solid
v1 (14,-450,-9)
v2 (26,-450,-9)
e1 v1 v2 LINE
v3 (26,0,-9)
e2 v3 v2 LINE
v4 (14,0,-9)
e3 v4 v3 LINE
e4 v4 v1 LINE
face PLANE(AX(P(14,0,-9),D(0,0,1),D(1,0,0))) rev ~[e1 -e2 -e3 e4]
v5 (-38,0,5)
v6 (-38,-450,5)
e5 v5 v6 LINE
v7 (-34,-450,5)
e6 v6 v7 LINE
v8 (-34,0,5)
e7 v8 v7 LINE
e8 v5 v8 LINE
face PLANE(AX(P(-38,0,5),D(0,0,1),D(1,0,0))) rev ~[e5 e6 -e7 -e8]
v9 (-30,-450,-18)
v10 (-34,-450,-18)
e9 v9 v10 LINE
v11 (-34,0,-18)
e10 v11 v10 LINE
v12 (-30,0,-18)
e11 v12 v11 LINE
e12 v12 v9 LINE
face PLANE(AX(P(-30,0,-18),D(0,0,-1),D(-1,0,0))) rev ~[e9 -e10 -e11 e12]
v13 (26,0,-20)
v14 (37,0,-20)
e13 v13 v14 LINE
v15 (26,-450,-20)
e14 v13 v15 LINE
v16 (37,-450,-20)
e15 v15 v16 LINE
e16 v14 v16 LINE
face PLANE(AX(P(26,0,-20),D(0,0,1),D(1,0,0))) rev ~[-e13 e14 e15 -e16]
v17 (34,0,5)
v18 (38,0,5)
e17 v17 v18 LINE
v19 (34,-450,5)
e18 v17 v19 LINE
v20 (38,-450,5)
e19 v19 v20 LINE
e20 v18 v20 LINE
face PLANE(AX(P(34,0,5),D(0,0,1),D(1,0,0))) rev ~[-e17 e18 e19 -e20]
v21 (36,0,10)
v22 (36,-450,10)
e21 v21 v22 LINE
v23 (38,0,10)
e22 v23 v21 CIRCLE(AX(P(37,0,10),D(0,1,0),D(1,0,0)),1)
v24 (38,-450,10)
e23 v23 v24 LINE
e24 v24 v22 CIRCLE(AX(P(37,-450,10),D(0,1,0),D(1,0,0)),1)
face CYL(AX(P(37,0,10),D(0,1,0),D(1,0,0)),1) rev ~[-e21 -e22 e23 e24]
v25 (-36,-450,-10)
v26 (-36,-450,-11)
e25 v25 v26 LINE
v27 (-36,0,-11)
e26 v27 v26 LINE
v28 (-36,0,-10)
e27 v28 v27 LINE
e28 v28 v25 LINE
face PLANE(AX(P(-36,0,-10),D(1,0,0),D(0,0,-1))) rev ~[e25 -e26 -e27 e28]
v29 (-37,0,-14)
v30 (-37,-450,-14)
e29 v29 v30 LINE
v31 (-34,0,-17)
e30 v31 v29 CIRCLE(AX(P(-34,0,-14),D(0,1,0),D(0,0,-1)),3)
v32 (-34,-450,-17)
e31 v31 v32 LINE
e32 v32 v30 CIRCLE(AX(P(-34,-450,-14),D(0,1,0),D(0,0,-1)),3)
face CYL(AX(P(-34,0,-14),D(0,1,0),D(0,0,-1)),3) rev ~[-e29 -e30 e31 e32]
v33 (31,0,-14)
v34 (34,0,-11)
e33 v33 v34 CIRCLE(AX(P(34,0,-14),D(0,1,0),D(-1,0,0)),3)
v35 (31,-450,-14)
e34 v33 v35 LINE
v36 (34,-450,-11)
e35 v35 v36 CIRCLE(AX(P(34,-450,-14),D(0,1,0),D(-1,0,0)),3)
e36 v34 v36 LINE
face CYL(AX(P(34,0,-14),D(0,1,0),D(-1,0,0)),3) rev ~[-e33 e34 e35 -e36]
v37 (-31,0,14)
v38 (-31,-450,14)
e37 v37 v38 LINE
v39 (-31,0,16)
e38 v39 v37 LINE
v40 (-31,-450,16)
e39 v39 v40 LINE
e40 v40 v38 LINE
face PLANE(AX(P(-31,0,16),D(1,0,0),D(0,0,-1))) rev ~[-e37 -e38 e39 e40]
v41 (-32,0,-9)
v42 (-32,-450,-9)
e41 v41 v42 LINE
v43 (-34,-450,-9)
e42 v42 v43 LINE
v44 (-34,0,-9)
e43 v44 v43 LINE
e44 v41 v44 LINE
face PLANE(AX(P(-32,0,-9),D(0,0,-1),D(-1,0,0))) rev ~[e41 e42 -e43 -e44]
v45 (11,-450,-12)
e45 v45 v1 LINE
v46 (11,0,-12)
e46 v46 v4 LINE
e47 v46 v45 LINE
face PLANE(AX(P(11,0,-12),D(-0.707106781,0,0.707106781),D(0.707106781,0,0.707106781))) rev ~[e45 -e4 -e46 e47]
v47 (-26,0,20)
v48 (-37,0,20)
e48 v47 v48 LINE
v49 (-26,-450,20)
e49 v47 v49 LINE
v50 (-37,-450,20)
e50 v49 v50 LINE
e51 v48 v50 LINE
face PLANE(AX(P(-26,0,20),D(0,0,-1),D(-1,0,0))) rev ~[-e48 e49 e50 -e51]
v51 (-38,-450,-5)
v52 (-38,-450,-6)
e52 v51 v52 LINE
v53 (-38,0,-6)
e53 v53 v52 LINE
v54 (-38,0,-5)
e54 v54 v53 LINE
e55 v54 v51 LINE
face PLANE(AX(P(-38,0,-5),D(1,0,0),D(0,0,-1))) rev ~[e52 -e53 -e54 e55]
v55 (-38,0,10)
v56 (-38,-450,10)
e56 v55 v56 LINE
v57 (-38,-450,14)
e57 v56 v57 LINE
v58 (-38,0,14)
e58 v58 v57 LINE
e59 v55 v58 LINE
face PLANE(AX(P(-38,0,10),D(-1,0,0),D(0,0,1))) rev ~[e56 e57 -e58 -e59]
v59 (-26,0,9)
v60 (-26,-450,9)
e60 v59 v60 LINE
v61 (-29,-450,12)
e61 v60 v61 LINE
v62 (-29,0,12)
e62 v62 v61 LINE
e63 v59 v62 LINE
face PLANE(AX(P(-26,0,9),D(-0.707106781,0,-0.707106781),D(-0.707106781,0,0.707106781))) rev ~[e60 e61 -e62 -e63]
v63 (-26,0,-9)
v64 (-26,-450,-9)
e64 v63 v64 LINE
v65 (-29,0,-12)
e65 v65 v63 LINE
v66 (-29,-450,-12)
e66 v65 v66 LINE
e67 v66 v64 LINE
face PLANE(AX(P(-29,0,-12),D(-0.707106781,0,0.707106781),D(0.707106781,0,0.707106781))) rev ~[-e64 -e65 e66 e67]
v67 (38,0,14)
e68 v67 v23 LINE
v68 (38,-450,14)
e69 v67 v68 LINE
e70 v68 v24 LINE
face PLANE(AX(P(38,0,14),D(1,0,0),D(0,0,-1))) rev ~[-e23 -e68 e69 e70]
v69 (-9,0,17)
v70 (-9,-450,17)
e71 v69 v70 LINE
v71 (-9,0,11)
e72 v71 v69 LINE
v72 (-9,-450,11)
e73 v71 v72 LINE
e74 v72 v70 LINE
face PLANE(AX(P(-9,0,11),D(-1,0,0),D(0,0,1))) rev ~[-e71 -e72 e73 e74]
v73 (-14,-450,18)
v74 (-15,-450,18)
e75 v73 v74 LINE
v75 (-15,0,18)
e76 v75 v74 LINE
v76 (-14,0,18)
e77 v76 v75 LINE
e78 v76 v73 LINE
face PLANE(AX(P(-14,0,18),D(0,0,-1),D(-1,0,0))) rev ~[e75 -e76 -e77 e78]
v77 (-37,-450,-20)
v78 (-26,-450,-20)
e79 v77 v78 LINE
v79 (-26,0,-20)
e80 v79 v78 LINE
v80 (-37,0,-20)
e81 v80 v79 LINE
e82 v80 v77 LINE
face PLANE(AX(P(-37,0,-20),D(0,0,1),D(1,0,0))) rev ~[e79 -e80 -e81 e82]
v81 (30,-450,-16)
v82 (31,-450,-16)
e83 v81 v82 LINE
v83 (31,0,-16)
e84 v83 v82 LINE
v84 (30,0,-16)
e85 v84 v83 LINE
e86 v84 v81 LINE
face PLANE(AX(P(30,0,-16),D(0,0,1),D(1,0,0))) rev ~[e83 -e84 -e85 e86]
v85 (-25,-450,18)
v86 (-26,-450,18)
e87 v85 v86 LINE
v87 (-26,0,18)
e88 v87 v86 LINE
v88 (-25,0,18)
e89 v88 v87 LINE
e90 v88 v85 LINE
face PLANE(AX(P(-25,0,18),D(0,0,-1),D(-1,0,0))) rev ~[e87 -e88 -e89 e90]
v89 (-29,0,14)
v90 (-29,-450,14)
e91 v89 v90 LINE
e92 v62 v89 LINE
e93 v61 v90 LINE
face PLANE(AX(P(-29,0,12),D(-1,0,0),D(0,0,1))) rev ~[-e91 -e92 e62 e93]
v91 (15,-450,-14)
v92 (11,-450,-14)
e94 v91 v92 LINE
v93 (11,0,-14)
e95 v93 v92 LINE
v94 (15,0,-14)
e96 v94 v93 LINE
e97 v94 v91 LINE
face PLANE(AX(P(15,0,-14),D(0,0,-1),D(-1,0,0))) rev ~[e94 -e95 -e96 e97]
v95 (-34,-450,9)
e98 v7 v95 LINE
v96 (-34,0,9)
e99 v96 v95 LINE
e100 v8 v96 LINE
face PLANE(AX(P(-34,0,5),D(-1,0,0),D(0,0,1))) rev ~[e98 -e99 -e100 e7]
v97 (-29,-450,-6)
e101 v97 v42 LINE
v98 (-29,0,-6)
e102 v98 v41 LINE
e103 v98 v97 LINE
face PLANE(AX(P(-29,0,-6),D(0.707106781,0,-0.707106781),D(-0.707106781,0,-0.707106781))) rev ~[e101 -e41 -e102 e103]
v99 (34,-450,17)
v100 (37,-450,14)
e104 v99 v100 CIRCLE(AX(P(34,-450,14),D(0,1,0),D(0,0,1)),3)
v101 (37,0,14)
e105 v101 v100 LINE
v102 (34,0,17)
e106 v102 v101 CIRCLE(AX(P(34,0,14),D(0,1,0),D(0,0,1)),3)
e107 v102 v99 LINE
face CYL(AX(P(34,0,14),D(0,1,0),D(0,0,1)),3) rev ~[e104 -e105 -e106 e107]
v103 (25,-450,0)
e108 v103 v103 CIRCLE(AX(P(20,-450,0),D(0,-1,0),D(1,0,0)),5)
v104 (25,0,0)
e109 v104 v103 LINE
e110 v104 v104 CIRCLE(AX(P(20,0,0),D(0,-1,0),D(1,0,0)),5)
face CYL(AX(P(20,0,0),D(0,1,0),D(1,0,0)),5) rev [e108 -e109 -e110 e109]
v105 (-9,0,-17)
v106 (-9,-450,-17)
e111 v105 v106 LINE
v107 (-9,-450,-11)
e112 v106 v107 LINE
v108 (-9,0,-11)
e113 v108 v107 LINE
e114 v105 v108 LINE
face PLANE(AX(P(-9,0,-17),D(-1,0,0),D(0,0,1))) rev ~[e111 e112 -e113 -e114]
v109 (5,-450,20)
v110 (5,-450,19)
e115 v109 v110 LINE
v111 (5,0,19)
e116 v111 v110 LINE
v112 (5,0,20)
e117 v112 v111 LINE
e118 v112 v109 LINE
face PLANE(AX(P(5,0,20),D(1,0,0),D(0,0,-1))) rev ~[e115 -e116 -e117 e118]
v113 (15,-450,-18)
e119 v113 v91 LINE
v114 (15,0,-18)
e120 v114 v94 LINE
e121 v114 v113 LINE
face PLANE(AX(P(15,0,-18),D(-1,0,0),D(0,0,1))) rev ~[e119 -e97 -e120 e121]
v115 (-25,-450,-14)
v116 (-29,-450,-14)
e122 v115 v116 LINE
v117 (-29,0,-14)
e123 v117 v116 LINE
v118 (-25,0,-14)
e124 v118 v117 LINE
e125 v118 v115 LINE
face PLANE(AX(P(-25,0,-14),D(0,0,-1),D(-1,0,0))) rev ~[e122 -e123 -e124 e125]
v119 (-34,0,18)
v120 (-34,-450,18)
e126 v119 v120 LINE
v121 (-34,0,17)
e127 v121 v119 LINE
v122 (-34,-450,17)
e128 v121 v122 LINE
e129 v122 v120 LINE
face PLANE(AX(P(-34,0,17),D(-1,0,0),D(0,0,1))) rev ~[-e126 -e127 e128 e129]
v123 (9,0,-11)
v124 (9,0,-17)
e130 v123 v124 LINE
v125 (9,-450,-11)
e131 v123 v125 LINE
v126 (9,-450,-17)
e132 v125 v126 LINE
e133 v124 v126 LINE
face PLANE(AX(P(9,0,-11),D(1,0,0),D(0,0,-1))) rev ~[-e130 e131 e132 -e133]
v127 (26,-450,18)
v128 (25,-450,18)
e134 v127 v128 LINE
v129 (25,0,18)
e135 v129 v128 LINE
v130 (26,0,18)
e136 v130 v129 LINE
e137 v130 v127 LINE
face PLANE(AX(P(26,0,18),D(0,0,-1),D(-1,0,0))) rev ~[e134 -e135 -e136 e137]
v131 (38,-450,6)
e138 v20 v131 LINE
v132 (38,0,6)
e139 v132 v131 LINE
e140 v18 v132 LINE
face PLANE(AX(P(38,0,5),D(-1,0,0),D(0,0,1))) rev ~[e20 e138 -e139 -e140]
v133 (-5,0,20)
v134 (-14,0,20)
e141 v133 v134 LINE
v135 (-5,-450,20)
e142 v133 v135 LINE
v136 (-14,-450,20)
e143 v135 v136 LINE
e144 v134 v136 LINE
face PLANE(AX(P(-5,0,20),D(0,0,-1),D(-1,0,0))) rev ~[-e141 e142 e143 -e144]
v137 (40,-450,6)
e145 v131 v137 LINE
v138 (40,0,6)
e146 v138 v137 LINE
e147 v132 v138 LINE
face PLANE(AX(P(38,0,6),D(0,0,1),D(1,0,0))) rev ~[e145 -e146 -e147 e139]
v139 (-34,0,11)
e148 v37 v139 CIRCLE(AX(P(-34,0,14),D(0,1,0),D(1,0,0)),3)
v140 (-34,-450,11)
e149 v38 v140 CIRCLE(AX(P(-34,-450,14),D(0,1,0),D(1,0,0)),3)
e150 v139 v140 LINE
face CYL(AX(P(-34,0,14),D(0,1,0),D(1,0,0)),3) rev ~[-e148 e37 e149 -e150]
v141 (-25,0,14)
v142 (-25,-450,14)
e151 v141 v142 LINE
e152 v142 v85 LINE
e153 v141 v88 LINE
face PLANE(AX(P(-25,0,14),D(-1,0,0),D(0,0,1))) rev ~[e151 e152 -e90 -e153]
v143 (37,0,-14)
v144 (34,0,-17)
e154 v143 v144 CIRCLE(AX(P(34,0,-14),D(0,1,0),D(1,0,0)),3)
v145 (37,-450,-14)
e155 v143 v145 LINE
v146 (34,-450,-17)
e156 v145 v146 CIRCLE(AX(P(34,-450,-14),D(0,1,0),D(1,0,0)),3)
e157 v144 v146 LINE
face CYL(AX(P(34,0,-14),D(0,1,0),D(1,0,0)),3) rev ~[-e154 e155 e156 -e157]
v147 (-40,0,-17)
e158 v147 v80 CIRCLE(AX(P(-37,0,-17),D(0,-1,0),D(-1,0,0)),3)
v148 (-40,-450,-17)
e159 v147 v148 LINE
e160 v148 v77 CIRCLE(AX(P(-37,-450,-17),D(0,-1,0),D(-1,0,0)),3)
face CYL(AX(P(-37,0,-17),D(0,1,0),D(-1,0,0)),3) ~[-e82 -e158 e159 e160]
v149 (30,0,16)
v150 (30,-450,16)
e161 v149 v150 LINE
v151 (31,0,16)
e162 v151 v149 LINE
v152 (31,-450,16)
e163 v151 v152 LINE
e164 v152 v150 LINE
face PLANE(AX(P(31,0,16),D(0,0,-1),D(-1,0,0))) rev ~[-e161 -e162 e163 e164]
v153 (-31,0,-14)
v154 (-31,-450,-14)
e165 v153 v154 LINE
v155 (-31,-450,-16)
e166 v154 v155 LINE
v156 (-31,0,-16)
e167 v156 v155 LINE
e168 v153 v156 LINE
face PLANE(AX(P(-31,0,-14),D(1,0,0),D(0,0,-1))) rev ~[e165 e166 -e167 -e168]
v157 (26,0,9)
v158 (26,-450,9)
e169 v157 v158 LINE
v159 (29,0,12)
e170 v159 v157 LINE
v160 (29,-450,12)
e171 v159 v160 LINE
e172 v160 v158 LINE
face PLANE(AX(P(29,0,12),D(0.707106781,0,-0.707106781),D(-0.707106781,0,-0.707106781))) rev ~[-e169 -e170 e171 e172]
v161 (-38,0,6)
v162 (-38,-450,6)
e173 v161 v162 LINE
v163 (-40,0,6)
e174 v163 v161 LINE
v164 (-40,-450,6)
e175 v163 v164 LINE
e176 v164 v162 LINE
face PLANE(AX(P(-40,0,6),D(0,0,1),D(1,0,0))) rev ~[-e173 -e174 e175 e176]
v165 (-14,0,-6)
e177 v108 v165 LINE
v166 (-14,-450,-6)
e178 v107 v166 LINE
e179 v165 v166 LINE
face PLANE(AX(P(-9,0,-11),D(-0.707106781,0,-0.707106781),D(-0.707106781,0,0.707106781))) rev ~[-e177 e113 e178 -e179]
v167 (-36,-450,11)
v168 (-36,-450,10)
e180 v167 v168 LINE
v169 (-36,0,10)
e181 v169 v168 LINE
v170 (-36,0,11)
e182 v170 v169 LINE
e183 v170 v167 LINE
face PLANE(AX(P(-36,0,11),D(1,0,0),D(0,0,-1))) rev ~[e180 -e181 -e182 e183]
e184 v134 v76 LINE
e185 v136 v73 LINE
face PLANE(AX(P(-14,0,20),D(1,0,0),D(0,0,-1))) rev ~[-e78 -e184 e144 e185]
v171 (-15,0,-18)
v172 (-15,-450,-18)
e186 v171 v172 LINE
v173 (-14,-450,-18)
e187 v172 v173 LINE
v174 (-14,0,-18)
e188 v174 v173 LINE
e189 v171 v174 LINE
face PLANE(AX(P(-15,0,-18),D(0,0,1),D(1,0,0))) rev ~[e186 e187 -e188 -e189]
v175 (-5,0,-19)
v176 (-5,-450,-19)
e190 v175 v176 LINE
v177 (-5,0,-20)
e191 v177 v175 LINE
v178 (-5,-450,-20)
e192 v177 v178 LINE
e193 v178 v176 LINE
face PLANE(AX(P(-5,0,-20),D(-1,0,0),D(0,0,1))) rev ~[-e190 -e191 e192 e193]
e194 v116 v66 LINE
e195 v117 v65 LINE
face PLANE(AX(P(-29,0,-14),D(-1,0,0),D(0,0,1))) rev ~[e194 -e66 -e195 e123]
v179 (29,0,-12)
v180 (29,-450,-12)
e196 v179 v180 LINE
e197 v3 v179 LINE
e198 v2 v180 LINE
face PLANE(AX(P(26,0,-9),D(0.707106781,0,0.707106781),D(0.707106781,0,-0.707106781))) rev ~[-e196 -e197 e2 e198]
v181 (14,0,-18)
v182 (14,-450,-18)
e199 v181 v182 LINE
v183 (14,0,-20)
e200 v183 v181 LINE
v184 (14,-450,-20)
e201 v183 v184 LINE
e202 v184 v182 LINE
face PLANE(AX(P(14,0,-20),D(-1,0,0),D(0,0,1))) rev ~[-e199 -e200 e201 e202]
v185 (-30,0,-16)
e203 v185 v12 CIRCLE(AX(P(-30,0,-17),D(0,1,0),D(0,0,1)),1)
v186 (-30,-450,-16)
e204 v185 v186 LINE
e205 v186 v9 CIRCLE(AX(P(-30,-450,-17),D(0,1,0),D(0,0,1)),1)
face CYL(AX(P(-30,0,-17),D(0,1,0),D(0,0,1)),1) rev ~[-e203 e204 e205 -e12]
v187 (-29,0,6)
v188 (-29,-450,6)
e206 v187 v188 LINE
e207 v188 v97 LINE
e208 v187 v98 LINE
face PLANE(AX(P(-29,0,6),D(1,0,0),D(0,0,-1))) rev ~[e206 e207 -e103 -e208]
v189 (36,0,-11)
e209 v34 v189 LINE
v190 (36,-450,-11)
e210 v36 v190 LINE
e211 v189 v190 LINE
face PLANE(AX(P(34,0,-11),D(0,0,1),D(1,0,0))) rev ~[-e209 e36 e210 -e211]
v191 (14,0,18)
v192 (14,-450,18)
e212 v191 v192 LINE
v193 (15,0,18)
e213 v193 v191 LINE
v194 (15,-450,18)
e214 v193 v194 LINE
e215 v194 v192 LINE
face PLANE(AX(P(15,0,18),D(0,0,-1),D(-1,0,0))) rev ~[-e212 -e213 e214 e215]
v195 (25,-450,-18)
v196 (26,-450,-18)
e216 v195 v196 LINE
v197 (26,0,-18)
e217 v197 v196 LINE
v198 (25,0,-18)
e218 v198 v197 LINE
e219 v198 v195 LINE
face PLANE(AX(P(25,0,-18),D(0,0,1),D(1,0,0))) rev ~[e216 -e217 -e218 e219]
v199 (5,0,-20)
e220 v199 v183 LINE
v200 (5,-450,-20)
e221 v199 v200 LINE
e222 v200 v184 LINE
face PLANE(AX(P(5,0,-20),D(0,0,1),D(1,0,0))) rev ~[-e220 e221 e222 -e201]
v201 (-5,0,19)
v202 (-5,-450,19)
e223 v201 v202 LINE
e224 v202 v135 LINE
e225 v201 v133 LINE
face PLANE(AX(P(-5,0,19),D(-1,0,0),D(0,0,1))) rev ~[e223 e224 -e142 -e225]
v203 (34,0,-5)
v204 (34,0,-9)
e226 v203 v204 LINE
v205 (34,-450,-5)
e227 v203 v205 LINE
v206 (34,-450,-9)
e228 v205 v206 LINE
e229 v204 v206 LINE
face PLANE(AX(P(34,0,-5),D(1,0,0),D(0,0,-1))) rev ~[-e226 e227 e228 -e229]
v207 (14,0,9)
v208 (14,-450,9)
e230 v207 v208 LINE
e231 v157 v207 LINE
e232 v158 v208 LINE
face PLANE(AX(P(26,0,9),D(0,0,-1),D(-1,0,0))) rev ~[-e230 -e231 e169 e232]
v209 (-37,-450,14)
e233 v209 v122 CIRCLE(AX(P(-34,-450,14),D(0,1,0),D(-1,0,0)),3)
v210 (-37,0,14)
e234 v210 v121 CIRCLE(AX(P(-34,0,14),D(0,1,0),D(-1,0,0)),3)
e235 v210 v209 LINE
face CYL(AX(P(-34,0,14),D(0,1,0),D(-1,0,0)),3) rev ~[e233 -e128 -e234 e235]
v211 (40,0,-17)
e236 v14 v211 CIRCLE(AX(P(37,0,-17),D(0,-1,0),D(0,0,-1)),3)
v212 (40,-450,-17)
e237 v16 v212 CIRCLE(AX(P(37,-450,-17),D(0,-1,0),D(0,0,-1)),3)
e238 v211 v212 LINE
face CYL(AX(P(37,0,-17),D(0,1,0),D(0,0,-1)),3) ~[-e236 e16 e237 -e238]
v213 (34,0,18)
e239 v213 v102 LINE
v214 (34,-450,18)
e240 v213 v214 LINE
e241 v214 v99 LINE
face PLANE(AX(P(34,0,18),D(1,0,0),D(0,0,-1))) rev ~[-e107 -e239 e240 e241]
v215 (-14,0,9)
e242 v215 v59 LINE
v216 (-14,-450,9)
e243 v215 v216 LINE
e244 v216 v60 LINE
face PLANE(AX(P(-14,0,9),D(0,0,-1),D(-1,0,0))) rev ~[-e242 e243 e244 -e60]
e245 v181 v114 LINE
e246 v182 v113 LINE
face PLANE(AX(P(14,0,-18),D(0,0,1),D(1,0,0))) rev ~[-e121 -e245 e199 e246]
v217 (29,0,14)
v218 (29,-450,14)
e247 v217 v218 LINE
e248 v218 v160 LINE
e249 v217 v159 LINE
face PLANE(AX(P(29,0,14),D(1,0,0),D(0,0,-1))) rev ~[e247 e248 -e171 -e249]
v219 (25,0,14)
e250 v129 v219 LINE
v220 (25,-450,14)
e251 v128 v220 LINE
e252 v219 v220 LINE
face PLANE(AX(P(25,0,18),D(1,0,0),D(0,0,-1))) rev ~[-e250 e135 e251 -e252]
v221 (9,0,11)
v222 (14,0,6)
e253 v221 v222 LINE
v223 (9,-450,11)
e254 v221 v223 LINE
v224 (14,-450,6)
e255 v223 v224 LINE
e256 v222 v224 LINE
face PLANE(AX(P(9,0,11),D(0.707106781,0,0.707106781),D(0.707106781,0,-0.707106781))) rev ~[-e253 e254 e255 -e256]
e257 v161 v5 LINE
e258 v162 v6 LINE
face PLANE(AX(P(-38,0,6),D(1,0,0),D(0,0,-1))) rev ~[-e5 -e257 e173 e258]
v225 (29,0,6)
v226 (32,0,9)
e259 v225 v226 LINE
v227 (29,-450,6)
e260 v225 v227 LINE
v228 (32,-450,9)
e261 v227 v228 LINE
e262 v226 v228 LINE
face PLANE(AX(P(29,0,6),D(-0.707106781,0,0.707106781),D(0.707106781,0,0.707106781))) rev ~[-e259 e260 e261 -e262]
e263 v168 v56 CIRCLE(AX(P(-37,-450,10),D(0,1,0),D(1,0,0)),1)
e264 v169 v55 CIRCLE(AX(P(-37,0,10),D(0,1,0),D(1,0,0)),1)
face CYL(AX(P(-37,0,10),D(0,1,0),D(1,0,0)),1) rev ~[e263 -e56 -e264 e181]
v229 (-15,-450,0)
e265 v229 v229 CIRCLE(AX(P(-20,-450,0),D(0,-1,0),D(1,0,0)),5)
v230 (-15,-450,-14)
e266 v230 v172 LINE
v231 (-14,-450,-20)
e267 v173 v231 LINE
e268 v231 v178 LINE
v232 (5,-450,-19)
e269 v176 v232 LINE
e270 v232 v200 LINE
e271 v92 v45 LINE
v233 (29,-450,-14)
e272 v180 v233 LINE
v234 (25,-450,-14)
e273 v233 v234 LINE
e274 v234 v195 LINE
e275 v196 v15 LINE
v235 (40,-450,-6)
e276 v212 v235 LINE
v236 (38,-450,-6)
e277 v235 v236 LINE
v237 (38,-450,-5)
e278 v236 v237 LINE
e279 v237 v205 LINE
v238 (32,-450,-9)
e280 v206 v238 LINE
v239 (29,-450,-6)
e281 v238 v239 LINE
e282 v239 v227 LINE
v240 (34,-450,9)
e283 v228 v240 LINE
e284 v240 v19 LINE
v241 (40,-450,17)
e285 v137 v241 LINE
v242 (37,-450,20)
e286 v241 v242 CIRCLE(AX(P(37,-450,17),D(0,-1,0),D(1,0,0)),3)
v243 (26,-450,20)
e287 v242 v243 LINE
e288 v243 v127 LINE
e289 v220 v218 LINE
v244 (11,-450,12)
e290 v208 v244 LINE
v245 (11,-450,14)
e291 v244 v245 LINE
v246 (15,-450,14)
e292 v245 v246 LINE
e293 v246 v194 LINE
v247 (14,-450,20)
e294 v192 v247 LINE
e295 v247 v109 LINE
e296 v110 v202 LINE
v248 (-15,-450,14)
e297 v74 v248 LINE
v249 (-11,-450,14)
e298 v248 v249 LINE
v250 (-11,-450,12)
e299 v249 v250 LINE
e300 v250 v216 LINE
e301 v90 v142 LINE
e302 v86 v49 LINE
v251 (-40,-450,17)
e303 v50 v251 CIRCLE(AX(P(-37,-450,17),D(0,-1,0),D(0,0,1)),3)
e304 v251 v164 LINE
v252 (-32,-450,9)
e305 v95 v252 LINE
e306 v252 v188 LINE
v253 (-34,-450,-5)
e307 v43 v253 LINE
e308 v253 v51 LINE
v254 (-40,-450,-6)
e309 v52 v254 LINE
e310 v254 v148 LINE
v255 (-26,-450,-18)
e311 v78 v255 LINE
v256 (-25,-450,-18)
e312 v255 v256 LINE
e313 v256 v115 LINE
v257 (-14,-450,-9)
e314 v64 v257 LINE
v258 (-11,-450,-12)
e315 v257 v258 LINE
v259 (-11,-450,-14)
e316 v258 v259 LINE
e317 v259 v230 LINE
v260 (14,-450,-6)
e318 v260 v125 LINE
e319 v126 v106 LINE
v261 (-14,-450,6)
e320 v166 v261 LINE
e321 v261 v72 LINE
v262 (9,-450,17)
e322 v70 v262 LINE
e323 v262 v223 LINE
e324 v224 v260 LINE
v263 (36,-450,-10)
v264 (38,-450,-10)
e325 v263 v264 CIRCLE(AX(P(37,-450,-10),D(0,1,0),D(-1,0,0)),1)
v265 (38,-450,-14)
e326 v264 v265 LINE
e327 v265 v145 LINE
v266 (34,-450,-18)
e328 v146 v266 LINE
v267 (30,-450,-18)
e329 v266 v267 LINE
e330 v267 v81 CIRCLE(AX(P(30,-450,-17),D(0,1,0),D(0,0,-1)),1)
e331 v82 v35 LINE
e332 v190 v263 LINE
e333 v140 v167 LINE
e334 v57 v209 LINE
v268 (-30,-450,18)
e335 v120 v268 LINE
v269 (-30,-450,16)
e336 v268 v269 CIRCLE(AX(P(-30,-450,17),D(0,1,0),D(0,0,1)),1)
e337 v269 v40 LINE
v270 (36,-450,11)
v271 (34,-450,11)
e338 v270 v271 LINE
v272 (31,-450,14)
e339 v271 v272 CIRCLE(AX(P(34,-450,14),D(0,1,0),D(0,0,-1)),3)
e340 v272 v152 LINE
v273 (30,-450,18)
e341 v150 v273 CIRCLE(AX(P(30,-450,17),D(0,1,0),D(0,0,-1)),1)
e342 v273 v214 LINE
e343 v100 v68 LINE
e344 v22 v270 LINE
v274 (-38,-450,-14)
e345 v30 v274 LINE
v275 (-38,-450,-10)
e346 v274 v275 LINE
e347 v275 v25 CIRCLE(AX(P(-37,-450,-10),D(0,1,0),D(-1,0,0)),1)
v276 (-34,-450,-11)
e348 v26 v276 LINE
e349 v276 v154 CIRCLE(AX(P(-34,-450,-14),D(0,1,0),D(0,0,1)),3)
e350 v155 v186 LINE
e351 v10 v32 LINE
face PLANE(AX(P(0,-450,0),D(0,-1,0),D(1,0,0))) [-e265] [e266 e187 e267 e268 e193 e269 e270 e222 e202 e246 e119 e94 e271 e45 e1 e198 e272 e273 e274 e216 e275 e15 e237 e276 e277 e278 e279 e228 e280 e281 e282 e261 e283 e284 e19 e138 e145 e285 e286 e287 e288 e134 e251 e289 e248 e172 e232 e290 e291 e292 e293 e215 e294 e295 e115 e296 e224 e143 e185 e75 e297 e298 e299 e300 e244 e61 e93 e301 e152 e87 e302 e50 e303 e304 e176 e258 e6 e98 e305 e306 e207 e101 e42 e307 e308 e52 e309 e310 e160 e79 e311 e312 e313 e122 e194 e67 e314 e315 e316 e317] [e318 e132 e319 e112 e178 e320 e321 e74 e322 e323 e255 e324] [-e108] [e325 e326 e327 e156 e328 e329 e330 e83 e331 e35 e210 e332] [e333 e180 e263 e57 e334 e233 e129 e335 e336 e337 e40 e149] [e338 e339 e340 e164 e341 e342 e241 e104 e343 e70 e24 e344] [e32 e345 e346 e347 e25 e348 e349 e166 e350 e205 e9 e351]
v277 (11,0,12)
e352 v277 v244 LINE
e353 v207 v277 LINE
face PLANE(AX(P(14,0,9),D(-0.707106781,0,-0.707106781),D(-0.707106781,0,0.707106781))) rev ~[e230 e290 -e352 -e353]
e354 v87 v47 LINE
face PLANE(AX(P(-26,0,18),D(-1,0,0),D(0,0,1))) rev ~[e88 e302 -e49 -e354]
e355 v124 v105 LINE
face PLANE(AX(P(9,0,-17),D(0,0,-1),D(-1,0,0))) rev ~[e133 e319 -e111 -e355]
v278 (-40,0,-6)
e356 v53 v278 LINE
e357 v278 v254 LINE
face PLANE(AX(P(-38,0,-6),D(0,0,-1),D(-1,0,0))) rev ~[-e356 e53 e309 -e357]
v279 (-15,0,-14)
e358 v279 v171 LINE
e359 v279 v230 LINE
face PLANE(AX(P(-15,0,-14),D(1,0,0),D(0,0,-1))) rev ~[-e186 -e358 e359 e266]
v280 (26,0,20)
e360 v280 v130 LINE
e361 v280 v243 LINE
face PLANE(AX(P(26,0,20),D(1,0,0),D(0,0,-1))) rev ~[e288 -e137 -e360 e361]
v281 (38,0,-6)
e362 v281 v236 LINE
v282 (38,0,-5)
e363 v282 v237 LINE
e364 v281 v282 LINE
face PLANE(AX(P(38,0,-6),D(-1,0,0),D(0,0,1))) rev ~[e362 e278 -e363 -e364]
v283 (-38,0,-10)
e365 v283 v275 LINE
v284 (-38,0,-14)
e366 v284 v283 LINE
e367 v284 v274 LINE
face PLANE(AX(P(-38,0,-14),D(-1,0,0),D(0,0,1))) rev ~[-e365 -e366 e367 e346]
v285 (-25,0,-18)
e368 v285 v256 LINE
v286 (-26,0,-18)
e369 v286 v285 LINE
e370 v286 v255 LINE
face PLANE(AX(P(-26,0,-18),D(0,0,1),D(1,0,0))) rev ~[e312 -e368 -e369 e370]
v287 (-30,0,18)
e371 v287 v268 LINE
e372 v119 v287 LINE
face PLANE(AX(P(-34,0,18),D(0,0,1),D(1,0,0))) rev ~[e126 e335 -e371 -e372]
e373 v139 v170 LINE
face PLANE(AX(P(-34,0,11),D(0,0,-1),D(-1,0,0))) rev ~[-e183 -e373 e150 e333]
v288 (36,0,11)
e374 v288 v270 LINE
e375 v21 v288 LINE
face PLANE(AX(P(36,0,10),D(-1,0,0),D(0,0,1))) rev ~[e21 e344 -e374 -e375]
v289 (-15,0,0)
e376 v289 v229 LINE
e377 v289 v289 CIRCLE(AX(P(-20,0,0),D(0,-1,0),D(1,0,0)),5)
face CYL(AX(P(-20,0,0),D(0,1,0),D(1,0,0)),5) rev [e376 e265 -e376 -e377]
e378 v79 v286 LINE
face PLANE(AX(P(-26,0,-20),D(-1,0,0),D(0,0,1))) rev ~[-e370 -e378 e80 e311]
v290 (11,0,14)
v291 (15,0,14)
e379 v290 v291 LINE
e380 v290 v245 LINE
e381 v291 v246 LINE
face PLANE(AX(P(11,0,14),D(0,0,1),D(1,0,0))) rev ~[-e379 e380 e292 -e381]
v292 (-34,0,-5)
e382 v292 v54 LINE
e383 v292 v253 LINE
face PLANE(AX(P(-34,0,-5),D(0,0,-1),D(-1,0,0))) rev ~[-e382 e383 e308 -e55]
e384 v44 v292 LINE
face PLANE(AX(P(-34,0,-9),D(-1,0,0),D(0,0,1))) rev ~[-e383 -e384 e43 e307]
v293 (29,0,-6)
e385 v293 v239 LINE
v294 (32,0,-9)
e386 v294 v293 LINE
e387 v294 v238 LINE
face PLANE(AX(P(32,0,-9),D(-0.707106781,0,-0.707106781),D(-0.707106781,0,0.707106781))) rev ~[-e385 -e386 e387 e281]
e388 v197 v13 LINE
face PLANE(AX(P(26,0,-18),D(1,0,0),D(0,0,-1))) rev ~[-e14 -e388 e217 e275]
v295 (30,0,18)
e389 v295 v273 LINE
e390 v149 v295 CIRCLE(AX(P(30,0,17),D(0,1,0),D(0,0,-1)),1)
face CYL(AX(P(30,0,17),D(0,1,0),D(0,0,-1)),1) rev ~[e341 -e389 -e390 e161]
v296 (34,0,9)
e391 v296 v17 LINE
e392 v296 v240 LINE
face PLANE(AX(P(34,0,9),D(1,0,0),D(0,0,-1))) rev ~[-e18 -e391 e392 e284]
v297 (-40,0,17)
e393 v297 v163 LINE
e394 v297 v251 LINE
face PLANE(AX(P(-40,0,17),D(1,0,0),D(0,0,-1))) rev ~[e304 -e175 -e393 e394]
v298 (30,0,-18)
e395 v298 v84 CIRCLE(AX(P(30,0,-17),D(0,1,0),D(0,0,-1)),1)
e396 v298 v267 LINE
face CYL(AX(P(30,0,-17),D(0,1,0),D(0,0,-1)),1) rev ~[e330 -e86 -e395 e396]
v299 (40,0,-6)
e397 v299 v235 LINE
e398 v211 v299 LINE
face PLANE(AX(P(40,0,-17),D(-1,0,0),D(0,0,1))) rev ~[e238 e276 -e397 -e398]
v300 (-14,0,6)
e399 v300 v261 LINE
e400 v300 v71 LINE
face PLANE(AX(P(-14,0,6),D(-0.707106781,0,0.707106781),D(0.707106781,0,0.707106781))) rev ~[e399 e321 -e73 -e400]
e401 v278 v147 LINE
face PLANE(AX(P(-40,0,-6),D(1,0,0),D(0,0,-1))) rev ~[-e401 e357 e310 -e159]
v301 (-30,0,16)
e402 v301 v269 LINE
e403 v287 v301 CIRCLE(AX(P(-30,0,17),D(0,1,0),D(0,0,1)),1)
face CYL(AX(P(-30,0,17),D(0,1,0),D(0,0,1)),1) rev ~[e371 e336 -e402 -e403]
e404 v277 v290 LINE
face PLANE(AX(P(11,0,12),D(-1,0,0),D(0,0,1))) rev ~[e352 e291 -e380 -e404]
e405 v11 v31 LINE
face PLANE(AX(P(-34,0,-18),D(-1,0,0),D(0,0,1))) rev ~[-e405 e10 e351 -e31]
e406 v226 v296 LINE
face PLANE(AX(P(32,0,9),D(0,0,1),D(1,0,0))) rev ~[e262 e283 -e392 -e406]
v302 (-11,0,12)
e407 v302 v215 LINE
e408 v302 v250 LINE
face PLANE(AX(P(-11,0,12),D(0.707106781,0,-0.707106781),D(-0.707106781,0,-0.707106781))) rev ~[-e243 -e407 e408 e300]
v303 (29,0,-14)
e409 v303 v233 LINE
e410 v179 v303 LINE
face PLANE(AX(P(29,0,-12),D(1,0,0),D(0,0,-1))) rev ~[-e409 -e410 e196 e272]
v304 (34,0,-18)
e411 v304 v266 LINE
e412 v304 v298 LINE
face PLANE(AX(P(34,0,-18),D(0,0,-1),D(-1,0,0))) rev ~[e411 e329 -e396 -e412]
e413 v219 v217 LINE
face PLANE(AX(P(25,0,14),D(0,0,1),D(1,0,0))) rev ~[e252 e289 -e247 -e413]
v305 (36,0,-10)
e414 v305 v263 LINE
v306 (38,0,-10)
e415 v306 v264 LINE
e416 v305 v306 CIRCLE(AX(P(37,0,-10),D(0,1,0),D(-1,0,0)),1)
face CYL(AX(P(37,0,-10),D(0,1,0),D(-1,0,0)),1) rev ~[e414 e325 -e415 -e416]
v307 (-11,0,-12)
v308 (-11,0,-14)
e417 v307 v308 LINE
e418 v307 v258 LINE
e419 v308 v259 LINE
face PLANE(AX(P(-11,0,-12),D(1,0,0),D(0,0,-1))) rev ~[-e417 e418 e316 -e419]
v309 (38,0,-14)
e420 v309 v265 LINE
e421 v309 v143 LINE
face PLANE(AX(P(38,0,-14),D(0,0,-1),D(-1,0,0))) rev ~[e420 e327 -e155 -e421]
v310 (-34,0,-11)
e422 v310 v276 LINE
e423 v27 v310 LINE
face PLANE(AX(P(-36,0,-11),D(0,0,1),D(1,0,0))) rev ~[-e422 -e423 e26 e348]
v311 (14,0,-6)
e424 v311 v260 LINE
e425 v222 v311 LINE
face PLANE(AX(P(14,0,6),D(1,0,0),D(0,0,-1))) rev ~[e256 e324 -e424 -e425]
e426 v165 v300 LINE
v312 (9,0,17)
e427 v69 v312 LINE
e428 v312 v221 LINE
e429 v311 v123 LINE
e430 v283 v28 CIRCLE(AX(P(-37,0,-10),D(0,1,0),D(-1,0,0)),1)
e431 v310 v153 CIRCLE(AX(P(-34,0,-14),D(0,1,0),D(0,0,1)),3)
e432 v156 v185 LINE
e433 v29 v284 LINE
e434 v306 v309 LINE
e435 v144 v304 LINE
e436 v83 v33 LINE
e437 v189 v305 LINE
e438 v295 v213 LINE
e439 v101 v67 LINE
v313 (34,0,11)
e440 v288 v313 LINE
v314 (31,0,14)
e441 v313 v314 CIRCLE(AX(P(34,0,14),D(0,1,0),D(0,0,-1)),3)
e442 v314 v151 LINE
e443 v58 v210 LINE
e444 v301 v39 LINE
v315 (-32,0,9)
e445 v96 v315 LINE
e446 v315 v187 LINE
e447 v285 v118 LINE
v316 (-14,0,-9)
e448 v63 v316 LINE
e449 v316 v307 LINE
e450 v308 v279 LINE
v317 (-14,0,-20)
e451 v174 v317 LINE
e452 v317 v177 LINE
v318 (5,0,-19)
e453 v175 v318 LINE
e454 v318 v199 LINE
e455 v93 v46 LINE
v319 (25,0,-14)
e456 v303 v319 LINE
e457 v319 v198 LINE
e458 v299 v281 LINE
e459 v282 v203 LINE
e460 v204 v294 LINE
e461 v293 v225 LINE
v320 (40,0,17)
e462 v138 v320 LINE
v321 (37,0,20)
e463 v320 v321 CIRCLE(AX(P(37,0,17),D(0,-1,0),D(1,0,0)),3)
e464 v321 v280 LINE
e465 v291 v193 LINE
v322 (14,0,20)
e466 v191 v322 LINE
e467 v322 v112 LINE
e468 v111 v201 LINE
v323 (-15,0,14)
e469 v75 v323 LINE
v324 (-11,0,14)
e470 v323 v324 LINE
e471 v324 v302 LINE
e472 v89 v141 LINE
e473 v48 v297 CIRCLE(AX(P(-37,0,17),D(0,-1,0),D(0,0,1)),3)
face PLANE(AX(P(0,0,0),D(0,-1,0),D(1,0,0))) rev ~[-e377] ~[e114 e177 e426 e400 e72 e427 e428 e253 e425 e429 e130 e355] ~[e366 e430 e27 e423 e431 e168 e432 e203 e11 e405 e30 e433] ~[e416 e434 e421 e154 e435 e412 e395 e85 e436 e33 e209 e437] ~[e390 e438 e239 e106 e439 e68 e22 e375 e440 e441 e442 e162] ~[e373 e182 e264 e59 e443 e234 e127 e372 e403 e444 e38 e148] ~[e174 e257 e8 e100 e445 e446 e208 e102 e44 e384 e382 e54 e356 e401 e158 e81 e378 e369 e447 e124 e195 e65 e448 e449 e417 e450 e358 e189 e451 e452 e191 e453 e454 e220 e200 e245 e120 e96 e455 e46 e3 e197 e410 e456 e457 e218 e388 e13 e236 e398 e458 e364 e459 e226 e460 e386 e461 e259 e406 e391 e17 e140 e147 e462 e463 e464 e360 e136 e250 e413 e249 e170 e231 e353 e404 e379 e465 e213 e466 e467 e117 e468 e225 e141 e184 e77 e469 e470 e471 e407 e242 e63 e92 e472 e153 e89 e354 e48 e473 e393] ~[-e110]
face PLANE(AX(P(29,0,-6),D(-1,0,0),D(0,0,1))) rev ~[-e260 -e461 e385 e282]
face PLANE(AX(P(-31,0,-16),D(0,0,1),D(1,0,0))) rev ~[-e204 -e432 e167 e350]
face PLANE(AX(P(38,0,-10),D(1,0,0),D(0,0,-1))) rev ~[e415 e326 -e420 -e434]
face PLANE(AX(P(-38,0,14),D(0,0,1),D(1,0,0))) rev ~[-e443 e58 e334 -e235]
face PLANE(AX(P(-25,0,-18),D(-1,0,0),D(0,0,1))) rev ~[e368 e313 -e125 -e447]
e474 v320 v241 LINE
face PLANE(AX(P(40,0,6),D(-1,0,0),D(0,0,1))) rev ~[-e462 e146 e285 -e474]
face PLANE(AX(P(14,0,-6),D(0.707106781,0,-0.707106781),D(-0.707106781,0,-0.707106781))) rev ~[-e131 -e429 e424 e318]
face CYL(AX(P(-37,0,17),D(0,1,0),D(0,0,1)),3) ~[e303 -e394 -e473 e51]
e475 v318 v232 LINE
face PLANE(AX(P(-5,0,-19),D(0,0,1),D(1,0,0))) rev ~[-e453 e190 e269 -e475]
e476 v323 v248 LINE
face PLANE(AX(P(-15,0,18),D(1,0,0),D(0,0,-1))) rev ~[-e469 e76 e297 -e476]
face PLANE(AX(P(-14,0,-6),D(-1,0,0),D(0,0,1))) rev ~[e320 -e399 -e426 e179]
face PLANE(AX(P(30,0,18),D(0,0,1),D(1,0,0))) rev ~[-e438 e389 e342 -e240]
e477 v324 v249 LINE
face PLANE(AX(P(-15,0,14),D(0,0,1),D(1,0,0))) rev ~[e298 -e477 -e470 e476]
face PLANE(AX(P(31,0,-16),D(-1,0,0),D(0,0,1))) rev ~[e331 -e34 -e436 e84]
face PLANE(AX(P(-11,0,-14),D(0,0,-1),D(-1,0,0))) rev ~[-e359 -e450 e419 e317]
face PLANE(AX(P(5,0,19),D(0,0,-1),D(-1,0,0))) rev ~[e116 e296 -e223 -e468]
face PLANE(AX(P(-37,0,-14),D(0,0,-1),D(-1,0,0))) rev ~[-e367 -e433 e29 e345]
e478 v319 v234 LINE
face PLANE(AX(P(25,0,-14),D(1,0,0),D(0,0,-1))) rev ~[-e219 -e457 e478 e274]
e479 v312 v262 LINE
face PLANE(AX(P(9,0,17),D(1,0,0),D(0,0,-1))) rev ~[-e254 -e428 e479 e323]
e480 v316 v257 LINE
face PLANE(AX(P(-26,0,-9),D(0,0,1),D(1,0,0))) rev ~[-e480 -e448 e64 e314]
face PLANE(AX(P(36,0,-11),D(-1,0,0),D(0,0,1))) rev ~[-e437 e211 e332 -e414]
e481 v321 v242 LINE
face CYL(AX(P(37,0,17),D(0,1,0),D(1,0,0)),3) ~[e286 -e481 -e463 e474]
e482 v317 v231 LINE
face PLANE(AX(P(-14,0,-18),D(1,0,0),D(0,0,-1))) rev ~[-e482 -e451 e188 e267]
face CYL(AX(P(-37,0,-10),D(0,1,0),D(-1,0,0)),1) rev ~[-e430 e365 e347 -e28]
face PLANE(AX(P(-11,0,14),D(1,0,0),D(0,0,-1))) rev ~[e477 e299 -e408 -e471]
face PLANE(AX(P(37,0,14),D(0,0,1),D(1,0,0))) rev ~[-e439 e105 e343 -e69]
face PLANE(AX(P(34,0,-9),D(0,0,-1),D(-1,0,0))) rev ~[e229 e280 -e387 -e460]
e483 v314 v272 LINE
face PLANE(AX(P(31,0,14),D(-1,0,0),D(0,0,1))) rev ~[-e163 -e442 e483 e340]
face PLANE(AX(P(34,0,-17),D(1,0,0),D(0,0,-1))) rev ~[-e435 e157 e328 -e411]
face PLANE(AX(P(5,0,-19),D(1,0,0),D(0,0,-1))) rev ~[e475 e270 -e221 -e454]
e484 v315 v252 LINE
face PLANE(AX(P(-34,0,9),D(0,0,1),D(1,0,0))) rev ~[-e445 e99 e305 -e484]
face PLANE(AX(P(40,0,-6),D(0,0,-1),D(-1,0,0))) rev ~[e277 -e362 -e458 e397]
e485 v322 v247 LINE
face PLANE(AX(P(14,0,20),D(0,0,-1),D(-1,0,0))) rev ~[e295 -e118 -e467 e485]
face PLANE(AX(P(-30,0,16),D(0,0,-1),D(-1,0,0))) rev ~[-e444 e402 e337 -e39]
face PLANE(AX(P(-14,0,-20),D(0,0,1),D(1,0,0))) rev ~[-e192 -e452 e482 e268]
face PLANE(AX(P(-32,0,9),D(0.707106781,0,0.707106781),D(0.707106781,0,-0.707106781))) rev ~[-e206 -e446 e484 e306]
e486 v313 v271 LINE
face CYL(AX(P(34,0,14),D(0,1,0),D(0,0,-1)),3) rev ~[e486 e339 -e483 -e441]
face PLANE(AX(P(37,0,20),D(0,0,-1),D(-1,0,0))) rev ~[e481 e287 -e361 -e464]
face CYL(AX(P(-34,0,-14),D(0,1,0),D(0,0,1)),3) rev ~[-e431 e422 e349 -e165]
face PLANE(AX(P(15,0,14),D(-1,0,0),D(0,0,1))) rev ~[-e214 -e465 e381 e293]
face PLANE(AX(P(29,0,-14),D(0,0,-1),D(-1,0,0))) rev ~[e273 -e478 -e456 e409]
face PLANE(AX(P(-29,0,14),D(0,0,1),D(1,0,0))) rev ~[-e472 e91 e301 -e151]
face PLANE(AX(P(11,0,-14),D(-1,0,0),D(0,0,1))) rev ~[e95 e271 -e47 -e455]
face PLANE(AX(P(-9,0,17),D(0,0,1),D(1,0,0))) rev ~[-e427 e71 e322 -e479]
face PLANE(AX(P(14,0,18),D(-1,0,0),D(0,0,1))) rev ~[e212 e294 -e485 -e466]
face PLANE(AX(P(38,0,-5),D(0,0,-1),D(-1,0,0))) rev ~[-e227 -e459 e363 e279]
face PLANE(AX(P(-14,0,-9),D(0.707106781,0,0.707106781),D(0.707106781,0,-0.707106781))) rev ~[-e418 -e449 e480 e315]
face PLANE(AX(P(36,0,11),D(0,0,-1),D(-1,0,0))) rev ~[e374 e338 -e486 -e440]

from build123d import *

# Parameters (mm, degrees)
F1_R     = 5
F2_DEPTH = 450


with BuildPart() as f2:
    # F1 (on Front) → F2 (new body)
    with BuildSketch(Plane.XZ):
        with BuildLine():
            Line((-38, 6), (-38, 5))
            Line((-38, 5), (-34, 5))
            Line((-34, 5), (-34, 9))
            Line((-34, 9), (-32, 9))
            Line((-32, 9), (-29, 6))
            Line((-29, 6), (-29, -6))
            Line((-29, -6), (-32, -9))
            Line((-32, -9), (-34, -9))
            Line((-34, -9), (-34, -5))
            Line((-34, -5), (-38, -5))
            Line((-38, -5), (-38, -6))
            Line((-38, -6), (-40, -6))
            Line((-40, -6), (-40, -17))
            ThreePointArc((-40, -17), (-39.1213203436, -19.1213203436), (-37, -20))
            Line((-37, -20), (-26, -20))
            Line((-26, -20), (-26, -18))
            Line((-26, -18), (-25, -18))
            Line((-25, -18), (-25, -14))
            Line((-25, -14), (-29, -14))
            Line((-29, -14), (-29, -12))
            Line((-29, -12), (-26, -9))
            Line((-26, -9), (-14, -9))
            Line((-14, -9), (-11, -12))
            Line((-11, -12), (-11, -14))
            Line((-11, -14), (-15, -14))
            Line((-15, -14), (-15, -18))
            Line((-15, -18), (-14, -18))
            Line((-14, -18), (-14, -20))
            Line((-14, -20), (-5, -20))
            Line((-5, -20), (-5, -19))
            Line((-5, -19), (5, -19))
            Line((5, -19), (5, -20))
            Line((5, -20), (14, -20))
            Line((14, -20), (14, -18))
            Line((14, -18), (15, -18))
            Line((15, -18), (15, -14))
            Line((15, -14), (11, -14))
            Line((11, -14), (11, -12))
            Line((11, -12), (14, -9))
            Line((14, -9), (26, -9))
            Line((26, -9), (29, -12))
            Line((29, -12), (29, -14))
            Line((29, -14), (25, -14))
            Line((25, -14), (25, -18))
            Line((25, -18), (26, -18))
            Line((26, -18), (26, -20))
            Line((26, -20), (37, -20))
            ThreePointArc((37, -20), (39.1213203436, -19.1213203436), (40, -17))
            Line((40, -17), (40, -6))
            Line((40, -6), (38, -6))
            Line((38, -6), (38, -5))
            Line((38, -5), (34, -5))
            Line((34, -5), (34, -9))
            Line((34, -9), (32, -9))
            Line((32, -9), (29, -6))
            Line((29, -6), (29, 6))
            Line((29, 6), (32, 9))
            Line((32, 9), (34, 9))
            Line((34, 9), (34, 5))
            Line((34, 5), (38, 5))
            Line((38, 5), (38, 6))
            Line((38, 6), (40, 6))
            Line((40, 6), (40, 17))
            ThreePointArc((40, 17), (39.1213203436, 19.1213203436), (37, 20))
            Line((37, 20), (26, 20))
            Line((26, 20), (26, 18))
            Line((26, 18), (25, 18))
            Line((25, 18), (25, 14))
            Line((25, 14), (29, 14))
            Line((29, 14), (29, 12))
            Line((29, 12), (26, 9))
            Line((26, 9), (14, 9))
            Line((14, 9), (11, 12))
            Line((11, 12), (11, 14))
            Line((11, 14), (15, 14))
            Line((15, 14), (15, 18))
            Line((15, 18), (14, 18))
            Line((14, 18), (14, 20))
            Line((14, 20), (5, 20))
            Line((5, 20), (5, 19))
            Line((5, 19), (-5, 19))
            Line((-5, 19), (-5, 20))
            Line((-5, 20), (-14, 20))
            Line((-14, 20), (-14, 18))
            Line((-14, 18), (-15, 18))
            Line((-15, 18), (-15, 14))
            Line((-15, 14), (-11, 14))
            Line((-11, 14), (-11, 12))
            Line((-11, 12), (-14, 9))
            Line((-14, 9), (-26, 9))
            Line((-26, 9), (-29, 12))
            Line((-29, 12), (-29, 14))
            Line((-29, 14), (-25, 14))
            Line((-25, 14), (-25, 18))
            Line((-25, 18), (-26, 18))
            Line((-26, 18), (-26, 20))
            Line((-26, 20), (-37, 20))
            ThreePointArc((-37, 20), (-39.1213203436, 19.1213203436), (-40, 17))
            Line((-40, 17), (-40, 6))
            Line((-40, 6), (-38, 6))
        make_face()
        with BuildLine():
            ThreePointArc((-30, -16), (-29, -17), (-30, -18))
            Line((-30, -18), (-34, -18))
            Line((-34, -18), (-34, -17))
            ThreePointArc((-34, -17), (-36.1213203436, -16.1213203436), (-37, -14))
            Line((-37, -14), (-38, -14))
            Line((-38, -14), (-38, -10))
            ThreePointArc((-38, -10), (-37, -9), (-36, -10))
            Line((-36, -10), (-36, -11))
            Line((-36, -11), (-34, -11))
            ThreePointArc((-34, -11), (-31.8786796564, -11.8786796564), (-31, -14))
            Line((-31, -14), (-31, -16))
            Line((-31, -16), (-30, -16))
        make_face(mode=Mode.SUBTRACT)
        with BuildLine():
            ThreePointArc((36, -10), (37, -9), (38, -10))
            Line((38, -10), (38, -14))
            Line((38, -14), (37, -14))
            ThreePointArc((37, -14), (36.1213203436, -16.1213203436), (34, -17))
            Line((34, -17), (34, -18))
            Line((34, -18), (30, -18))
            ThreePointArc((30, -18), (29, -17), (30, -16))
            Line((30, -16), (31, -16))
            Line((31, -16), (31, -14))
            ThreePointArc((31, -14), (31.8786796564, -11.8786796564), (34, -11))
            Line((34, -11), (36, -11))
            Line((36, -11), (36, -10))
        make_face(mode=Mode.SUBTRACT)
        with Locations((-20, 0)):
            Circle(F1_R, mode=Mode.SUBTRACT)
        with BuildLine():
            ThreePointArc((-36, 10), (-37, 9), (-38, 10))
            Line((-38, 10), (-38, 14))
            Line((-38, 14), (-37, 14))
            ThreePointArc((-37, 14), (-36.1213203436, 16.1213203436), (-34, 17))
            Line((-34, 17), (-34, 18))
            Line((-34, 18), (-30, 18))
            ThreePointArc((-30, 18), (-29, 17), (-30, 16))
            Line((-30, 16), (-31, 16))
            Line((-31, 16), (-31, 14))
            ThreePointArc((-31, 14), (-31.8786796564, 11.8786796564), (-34, 11))
            Line((-34, 11), (-36, 11))
            Line((-36, 11), (-36, 10))
        make_face(mode=Mode.SUBTRACT)
        Polygon((9, -17), (-9, -17), (-9, -11), (-14, -6), (-14, 6), (-9, 11), (-9, 17), (9, 17), (9, 11), (14, 6), (14, -6), (9, -11), align=None, mode=Mode.SUBTRACT)
        with Locations((20, 0)):
            Circle(F1_R, mode=Mode.SUBTRACT)
        with BuildLine():
            ThreePointArc((30, 16), (29, 17), (30, 18))
            Line((30, 18), (34, 18))
            Line((34, 18), (34, 17))
            ThreePointArc((34, 17), (36.1213203436, 16.1213203436), (37, 14))
            Line((37, 14), (38, 14))
            Line((38, 14), (38, 10))
            ThreePointArc((38, 10), (37, 9), (36, 10))
            Line((36, 10), (36, 11))
            Line((36, 11), (34, 11))
            ThreePointArc((34, 11), (31.8786796564, 11.8786796564), (31, 14))
            Line((31, 14), (31, 16))
            Line((31, 16), (30, 16))
        make_face(mode=Mode.SUBTRACT)
    extrude(amount=F2_DEPTH)


solid = f2.part
